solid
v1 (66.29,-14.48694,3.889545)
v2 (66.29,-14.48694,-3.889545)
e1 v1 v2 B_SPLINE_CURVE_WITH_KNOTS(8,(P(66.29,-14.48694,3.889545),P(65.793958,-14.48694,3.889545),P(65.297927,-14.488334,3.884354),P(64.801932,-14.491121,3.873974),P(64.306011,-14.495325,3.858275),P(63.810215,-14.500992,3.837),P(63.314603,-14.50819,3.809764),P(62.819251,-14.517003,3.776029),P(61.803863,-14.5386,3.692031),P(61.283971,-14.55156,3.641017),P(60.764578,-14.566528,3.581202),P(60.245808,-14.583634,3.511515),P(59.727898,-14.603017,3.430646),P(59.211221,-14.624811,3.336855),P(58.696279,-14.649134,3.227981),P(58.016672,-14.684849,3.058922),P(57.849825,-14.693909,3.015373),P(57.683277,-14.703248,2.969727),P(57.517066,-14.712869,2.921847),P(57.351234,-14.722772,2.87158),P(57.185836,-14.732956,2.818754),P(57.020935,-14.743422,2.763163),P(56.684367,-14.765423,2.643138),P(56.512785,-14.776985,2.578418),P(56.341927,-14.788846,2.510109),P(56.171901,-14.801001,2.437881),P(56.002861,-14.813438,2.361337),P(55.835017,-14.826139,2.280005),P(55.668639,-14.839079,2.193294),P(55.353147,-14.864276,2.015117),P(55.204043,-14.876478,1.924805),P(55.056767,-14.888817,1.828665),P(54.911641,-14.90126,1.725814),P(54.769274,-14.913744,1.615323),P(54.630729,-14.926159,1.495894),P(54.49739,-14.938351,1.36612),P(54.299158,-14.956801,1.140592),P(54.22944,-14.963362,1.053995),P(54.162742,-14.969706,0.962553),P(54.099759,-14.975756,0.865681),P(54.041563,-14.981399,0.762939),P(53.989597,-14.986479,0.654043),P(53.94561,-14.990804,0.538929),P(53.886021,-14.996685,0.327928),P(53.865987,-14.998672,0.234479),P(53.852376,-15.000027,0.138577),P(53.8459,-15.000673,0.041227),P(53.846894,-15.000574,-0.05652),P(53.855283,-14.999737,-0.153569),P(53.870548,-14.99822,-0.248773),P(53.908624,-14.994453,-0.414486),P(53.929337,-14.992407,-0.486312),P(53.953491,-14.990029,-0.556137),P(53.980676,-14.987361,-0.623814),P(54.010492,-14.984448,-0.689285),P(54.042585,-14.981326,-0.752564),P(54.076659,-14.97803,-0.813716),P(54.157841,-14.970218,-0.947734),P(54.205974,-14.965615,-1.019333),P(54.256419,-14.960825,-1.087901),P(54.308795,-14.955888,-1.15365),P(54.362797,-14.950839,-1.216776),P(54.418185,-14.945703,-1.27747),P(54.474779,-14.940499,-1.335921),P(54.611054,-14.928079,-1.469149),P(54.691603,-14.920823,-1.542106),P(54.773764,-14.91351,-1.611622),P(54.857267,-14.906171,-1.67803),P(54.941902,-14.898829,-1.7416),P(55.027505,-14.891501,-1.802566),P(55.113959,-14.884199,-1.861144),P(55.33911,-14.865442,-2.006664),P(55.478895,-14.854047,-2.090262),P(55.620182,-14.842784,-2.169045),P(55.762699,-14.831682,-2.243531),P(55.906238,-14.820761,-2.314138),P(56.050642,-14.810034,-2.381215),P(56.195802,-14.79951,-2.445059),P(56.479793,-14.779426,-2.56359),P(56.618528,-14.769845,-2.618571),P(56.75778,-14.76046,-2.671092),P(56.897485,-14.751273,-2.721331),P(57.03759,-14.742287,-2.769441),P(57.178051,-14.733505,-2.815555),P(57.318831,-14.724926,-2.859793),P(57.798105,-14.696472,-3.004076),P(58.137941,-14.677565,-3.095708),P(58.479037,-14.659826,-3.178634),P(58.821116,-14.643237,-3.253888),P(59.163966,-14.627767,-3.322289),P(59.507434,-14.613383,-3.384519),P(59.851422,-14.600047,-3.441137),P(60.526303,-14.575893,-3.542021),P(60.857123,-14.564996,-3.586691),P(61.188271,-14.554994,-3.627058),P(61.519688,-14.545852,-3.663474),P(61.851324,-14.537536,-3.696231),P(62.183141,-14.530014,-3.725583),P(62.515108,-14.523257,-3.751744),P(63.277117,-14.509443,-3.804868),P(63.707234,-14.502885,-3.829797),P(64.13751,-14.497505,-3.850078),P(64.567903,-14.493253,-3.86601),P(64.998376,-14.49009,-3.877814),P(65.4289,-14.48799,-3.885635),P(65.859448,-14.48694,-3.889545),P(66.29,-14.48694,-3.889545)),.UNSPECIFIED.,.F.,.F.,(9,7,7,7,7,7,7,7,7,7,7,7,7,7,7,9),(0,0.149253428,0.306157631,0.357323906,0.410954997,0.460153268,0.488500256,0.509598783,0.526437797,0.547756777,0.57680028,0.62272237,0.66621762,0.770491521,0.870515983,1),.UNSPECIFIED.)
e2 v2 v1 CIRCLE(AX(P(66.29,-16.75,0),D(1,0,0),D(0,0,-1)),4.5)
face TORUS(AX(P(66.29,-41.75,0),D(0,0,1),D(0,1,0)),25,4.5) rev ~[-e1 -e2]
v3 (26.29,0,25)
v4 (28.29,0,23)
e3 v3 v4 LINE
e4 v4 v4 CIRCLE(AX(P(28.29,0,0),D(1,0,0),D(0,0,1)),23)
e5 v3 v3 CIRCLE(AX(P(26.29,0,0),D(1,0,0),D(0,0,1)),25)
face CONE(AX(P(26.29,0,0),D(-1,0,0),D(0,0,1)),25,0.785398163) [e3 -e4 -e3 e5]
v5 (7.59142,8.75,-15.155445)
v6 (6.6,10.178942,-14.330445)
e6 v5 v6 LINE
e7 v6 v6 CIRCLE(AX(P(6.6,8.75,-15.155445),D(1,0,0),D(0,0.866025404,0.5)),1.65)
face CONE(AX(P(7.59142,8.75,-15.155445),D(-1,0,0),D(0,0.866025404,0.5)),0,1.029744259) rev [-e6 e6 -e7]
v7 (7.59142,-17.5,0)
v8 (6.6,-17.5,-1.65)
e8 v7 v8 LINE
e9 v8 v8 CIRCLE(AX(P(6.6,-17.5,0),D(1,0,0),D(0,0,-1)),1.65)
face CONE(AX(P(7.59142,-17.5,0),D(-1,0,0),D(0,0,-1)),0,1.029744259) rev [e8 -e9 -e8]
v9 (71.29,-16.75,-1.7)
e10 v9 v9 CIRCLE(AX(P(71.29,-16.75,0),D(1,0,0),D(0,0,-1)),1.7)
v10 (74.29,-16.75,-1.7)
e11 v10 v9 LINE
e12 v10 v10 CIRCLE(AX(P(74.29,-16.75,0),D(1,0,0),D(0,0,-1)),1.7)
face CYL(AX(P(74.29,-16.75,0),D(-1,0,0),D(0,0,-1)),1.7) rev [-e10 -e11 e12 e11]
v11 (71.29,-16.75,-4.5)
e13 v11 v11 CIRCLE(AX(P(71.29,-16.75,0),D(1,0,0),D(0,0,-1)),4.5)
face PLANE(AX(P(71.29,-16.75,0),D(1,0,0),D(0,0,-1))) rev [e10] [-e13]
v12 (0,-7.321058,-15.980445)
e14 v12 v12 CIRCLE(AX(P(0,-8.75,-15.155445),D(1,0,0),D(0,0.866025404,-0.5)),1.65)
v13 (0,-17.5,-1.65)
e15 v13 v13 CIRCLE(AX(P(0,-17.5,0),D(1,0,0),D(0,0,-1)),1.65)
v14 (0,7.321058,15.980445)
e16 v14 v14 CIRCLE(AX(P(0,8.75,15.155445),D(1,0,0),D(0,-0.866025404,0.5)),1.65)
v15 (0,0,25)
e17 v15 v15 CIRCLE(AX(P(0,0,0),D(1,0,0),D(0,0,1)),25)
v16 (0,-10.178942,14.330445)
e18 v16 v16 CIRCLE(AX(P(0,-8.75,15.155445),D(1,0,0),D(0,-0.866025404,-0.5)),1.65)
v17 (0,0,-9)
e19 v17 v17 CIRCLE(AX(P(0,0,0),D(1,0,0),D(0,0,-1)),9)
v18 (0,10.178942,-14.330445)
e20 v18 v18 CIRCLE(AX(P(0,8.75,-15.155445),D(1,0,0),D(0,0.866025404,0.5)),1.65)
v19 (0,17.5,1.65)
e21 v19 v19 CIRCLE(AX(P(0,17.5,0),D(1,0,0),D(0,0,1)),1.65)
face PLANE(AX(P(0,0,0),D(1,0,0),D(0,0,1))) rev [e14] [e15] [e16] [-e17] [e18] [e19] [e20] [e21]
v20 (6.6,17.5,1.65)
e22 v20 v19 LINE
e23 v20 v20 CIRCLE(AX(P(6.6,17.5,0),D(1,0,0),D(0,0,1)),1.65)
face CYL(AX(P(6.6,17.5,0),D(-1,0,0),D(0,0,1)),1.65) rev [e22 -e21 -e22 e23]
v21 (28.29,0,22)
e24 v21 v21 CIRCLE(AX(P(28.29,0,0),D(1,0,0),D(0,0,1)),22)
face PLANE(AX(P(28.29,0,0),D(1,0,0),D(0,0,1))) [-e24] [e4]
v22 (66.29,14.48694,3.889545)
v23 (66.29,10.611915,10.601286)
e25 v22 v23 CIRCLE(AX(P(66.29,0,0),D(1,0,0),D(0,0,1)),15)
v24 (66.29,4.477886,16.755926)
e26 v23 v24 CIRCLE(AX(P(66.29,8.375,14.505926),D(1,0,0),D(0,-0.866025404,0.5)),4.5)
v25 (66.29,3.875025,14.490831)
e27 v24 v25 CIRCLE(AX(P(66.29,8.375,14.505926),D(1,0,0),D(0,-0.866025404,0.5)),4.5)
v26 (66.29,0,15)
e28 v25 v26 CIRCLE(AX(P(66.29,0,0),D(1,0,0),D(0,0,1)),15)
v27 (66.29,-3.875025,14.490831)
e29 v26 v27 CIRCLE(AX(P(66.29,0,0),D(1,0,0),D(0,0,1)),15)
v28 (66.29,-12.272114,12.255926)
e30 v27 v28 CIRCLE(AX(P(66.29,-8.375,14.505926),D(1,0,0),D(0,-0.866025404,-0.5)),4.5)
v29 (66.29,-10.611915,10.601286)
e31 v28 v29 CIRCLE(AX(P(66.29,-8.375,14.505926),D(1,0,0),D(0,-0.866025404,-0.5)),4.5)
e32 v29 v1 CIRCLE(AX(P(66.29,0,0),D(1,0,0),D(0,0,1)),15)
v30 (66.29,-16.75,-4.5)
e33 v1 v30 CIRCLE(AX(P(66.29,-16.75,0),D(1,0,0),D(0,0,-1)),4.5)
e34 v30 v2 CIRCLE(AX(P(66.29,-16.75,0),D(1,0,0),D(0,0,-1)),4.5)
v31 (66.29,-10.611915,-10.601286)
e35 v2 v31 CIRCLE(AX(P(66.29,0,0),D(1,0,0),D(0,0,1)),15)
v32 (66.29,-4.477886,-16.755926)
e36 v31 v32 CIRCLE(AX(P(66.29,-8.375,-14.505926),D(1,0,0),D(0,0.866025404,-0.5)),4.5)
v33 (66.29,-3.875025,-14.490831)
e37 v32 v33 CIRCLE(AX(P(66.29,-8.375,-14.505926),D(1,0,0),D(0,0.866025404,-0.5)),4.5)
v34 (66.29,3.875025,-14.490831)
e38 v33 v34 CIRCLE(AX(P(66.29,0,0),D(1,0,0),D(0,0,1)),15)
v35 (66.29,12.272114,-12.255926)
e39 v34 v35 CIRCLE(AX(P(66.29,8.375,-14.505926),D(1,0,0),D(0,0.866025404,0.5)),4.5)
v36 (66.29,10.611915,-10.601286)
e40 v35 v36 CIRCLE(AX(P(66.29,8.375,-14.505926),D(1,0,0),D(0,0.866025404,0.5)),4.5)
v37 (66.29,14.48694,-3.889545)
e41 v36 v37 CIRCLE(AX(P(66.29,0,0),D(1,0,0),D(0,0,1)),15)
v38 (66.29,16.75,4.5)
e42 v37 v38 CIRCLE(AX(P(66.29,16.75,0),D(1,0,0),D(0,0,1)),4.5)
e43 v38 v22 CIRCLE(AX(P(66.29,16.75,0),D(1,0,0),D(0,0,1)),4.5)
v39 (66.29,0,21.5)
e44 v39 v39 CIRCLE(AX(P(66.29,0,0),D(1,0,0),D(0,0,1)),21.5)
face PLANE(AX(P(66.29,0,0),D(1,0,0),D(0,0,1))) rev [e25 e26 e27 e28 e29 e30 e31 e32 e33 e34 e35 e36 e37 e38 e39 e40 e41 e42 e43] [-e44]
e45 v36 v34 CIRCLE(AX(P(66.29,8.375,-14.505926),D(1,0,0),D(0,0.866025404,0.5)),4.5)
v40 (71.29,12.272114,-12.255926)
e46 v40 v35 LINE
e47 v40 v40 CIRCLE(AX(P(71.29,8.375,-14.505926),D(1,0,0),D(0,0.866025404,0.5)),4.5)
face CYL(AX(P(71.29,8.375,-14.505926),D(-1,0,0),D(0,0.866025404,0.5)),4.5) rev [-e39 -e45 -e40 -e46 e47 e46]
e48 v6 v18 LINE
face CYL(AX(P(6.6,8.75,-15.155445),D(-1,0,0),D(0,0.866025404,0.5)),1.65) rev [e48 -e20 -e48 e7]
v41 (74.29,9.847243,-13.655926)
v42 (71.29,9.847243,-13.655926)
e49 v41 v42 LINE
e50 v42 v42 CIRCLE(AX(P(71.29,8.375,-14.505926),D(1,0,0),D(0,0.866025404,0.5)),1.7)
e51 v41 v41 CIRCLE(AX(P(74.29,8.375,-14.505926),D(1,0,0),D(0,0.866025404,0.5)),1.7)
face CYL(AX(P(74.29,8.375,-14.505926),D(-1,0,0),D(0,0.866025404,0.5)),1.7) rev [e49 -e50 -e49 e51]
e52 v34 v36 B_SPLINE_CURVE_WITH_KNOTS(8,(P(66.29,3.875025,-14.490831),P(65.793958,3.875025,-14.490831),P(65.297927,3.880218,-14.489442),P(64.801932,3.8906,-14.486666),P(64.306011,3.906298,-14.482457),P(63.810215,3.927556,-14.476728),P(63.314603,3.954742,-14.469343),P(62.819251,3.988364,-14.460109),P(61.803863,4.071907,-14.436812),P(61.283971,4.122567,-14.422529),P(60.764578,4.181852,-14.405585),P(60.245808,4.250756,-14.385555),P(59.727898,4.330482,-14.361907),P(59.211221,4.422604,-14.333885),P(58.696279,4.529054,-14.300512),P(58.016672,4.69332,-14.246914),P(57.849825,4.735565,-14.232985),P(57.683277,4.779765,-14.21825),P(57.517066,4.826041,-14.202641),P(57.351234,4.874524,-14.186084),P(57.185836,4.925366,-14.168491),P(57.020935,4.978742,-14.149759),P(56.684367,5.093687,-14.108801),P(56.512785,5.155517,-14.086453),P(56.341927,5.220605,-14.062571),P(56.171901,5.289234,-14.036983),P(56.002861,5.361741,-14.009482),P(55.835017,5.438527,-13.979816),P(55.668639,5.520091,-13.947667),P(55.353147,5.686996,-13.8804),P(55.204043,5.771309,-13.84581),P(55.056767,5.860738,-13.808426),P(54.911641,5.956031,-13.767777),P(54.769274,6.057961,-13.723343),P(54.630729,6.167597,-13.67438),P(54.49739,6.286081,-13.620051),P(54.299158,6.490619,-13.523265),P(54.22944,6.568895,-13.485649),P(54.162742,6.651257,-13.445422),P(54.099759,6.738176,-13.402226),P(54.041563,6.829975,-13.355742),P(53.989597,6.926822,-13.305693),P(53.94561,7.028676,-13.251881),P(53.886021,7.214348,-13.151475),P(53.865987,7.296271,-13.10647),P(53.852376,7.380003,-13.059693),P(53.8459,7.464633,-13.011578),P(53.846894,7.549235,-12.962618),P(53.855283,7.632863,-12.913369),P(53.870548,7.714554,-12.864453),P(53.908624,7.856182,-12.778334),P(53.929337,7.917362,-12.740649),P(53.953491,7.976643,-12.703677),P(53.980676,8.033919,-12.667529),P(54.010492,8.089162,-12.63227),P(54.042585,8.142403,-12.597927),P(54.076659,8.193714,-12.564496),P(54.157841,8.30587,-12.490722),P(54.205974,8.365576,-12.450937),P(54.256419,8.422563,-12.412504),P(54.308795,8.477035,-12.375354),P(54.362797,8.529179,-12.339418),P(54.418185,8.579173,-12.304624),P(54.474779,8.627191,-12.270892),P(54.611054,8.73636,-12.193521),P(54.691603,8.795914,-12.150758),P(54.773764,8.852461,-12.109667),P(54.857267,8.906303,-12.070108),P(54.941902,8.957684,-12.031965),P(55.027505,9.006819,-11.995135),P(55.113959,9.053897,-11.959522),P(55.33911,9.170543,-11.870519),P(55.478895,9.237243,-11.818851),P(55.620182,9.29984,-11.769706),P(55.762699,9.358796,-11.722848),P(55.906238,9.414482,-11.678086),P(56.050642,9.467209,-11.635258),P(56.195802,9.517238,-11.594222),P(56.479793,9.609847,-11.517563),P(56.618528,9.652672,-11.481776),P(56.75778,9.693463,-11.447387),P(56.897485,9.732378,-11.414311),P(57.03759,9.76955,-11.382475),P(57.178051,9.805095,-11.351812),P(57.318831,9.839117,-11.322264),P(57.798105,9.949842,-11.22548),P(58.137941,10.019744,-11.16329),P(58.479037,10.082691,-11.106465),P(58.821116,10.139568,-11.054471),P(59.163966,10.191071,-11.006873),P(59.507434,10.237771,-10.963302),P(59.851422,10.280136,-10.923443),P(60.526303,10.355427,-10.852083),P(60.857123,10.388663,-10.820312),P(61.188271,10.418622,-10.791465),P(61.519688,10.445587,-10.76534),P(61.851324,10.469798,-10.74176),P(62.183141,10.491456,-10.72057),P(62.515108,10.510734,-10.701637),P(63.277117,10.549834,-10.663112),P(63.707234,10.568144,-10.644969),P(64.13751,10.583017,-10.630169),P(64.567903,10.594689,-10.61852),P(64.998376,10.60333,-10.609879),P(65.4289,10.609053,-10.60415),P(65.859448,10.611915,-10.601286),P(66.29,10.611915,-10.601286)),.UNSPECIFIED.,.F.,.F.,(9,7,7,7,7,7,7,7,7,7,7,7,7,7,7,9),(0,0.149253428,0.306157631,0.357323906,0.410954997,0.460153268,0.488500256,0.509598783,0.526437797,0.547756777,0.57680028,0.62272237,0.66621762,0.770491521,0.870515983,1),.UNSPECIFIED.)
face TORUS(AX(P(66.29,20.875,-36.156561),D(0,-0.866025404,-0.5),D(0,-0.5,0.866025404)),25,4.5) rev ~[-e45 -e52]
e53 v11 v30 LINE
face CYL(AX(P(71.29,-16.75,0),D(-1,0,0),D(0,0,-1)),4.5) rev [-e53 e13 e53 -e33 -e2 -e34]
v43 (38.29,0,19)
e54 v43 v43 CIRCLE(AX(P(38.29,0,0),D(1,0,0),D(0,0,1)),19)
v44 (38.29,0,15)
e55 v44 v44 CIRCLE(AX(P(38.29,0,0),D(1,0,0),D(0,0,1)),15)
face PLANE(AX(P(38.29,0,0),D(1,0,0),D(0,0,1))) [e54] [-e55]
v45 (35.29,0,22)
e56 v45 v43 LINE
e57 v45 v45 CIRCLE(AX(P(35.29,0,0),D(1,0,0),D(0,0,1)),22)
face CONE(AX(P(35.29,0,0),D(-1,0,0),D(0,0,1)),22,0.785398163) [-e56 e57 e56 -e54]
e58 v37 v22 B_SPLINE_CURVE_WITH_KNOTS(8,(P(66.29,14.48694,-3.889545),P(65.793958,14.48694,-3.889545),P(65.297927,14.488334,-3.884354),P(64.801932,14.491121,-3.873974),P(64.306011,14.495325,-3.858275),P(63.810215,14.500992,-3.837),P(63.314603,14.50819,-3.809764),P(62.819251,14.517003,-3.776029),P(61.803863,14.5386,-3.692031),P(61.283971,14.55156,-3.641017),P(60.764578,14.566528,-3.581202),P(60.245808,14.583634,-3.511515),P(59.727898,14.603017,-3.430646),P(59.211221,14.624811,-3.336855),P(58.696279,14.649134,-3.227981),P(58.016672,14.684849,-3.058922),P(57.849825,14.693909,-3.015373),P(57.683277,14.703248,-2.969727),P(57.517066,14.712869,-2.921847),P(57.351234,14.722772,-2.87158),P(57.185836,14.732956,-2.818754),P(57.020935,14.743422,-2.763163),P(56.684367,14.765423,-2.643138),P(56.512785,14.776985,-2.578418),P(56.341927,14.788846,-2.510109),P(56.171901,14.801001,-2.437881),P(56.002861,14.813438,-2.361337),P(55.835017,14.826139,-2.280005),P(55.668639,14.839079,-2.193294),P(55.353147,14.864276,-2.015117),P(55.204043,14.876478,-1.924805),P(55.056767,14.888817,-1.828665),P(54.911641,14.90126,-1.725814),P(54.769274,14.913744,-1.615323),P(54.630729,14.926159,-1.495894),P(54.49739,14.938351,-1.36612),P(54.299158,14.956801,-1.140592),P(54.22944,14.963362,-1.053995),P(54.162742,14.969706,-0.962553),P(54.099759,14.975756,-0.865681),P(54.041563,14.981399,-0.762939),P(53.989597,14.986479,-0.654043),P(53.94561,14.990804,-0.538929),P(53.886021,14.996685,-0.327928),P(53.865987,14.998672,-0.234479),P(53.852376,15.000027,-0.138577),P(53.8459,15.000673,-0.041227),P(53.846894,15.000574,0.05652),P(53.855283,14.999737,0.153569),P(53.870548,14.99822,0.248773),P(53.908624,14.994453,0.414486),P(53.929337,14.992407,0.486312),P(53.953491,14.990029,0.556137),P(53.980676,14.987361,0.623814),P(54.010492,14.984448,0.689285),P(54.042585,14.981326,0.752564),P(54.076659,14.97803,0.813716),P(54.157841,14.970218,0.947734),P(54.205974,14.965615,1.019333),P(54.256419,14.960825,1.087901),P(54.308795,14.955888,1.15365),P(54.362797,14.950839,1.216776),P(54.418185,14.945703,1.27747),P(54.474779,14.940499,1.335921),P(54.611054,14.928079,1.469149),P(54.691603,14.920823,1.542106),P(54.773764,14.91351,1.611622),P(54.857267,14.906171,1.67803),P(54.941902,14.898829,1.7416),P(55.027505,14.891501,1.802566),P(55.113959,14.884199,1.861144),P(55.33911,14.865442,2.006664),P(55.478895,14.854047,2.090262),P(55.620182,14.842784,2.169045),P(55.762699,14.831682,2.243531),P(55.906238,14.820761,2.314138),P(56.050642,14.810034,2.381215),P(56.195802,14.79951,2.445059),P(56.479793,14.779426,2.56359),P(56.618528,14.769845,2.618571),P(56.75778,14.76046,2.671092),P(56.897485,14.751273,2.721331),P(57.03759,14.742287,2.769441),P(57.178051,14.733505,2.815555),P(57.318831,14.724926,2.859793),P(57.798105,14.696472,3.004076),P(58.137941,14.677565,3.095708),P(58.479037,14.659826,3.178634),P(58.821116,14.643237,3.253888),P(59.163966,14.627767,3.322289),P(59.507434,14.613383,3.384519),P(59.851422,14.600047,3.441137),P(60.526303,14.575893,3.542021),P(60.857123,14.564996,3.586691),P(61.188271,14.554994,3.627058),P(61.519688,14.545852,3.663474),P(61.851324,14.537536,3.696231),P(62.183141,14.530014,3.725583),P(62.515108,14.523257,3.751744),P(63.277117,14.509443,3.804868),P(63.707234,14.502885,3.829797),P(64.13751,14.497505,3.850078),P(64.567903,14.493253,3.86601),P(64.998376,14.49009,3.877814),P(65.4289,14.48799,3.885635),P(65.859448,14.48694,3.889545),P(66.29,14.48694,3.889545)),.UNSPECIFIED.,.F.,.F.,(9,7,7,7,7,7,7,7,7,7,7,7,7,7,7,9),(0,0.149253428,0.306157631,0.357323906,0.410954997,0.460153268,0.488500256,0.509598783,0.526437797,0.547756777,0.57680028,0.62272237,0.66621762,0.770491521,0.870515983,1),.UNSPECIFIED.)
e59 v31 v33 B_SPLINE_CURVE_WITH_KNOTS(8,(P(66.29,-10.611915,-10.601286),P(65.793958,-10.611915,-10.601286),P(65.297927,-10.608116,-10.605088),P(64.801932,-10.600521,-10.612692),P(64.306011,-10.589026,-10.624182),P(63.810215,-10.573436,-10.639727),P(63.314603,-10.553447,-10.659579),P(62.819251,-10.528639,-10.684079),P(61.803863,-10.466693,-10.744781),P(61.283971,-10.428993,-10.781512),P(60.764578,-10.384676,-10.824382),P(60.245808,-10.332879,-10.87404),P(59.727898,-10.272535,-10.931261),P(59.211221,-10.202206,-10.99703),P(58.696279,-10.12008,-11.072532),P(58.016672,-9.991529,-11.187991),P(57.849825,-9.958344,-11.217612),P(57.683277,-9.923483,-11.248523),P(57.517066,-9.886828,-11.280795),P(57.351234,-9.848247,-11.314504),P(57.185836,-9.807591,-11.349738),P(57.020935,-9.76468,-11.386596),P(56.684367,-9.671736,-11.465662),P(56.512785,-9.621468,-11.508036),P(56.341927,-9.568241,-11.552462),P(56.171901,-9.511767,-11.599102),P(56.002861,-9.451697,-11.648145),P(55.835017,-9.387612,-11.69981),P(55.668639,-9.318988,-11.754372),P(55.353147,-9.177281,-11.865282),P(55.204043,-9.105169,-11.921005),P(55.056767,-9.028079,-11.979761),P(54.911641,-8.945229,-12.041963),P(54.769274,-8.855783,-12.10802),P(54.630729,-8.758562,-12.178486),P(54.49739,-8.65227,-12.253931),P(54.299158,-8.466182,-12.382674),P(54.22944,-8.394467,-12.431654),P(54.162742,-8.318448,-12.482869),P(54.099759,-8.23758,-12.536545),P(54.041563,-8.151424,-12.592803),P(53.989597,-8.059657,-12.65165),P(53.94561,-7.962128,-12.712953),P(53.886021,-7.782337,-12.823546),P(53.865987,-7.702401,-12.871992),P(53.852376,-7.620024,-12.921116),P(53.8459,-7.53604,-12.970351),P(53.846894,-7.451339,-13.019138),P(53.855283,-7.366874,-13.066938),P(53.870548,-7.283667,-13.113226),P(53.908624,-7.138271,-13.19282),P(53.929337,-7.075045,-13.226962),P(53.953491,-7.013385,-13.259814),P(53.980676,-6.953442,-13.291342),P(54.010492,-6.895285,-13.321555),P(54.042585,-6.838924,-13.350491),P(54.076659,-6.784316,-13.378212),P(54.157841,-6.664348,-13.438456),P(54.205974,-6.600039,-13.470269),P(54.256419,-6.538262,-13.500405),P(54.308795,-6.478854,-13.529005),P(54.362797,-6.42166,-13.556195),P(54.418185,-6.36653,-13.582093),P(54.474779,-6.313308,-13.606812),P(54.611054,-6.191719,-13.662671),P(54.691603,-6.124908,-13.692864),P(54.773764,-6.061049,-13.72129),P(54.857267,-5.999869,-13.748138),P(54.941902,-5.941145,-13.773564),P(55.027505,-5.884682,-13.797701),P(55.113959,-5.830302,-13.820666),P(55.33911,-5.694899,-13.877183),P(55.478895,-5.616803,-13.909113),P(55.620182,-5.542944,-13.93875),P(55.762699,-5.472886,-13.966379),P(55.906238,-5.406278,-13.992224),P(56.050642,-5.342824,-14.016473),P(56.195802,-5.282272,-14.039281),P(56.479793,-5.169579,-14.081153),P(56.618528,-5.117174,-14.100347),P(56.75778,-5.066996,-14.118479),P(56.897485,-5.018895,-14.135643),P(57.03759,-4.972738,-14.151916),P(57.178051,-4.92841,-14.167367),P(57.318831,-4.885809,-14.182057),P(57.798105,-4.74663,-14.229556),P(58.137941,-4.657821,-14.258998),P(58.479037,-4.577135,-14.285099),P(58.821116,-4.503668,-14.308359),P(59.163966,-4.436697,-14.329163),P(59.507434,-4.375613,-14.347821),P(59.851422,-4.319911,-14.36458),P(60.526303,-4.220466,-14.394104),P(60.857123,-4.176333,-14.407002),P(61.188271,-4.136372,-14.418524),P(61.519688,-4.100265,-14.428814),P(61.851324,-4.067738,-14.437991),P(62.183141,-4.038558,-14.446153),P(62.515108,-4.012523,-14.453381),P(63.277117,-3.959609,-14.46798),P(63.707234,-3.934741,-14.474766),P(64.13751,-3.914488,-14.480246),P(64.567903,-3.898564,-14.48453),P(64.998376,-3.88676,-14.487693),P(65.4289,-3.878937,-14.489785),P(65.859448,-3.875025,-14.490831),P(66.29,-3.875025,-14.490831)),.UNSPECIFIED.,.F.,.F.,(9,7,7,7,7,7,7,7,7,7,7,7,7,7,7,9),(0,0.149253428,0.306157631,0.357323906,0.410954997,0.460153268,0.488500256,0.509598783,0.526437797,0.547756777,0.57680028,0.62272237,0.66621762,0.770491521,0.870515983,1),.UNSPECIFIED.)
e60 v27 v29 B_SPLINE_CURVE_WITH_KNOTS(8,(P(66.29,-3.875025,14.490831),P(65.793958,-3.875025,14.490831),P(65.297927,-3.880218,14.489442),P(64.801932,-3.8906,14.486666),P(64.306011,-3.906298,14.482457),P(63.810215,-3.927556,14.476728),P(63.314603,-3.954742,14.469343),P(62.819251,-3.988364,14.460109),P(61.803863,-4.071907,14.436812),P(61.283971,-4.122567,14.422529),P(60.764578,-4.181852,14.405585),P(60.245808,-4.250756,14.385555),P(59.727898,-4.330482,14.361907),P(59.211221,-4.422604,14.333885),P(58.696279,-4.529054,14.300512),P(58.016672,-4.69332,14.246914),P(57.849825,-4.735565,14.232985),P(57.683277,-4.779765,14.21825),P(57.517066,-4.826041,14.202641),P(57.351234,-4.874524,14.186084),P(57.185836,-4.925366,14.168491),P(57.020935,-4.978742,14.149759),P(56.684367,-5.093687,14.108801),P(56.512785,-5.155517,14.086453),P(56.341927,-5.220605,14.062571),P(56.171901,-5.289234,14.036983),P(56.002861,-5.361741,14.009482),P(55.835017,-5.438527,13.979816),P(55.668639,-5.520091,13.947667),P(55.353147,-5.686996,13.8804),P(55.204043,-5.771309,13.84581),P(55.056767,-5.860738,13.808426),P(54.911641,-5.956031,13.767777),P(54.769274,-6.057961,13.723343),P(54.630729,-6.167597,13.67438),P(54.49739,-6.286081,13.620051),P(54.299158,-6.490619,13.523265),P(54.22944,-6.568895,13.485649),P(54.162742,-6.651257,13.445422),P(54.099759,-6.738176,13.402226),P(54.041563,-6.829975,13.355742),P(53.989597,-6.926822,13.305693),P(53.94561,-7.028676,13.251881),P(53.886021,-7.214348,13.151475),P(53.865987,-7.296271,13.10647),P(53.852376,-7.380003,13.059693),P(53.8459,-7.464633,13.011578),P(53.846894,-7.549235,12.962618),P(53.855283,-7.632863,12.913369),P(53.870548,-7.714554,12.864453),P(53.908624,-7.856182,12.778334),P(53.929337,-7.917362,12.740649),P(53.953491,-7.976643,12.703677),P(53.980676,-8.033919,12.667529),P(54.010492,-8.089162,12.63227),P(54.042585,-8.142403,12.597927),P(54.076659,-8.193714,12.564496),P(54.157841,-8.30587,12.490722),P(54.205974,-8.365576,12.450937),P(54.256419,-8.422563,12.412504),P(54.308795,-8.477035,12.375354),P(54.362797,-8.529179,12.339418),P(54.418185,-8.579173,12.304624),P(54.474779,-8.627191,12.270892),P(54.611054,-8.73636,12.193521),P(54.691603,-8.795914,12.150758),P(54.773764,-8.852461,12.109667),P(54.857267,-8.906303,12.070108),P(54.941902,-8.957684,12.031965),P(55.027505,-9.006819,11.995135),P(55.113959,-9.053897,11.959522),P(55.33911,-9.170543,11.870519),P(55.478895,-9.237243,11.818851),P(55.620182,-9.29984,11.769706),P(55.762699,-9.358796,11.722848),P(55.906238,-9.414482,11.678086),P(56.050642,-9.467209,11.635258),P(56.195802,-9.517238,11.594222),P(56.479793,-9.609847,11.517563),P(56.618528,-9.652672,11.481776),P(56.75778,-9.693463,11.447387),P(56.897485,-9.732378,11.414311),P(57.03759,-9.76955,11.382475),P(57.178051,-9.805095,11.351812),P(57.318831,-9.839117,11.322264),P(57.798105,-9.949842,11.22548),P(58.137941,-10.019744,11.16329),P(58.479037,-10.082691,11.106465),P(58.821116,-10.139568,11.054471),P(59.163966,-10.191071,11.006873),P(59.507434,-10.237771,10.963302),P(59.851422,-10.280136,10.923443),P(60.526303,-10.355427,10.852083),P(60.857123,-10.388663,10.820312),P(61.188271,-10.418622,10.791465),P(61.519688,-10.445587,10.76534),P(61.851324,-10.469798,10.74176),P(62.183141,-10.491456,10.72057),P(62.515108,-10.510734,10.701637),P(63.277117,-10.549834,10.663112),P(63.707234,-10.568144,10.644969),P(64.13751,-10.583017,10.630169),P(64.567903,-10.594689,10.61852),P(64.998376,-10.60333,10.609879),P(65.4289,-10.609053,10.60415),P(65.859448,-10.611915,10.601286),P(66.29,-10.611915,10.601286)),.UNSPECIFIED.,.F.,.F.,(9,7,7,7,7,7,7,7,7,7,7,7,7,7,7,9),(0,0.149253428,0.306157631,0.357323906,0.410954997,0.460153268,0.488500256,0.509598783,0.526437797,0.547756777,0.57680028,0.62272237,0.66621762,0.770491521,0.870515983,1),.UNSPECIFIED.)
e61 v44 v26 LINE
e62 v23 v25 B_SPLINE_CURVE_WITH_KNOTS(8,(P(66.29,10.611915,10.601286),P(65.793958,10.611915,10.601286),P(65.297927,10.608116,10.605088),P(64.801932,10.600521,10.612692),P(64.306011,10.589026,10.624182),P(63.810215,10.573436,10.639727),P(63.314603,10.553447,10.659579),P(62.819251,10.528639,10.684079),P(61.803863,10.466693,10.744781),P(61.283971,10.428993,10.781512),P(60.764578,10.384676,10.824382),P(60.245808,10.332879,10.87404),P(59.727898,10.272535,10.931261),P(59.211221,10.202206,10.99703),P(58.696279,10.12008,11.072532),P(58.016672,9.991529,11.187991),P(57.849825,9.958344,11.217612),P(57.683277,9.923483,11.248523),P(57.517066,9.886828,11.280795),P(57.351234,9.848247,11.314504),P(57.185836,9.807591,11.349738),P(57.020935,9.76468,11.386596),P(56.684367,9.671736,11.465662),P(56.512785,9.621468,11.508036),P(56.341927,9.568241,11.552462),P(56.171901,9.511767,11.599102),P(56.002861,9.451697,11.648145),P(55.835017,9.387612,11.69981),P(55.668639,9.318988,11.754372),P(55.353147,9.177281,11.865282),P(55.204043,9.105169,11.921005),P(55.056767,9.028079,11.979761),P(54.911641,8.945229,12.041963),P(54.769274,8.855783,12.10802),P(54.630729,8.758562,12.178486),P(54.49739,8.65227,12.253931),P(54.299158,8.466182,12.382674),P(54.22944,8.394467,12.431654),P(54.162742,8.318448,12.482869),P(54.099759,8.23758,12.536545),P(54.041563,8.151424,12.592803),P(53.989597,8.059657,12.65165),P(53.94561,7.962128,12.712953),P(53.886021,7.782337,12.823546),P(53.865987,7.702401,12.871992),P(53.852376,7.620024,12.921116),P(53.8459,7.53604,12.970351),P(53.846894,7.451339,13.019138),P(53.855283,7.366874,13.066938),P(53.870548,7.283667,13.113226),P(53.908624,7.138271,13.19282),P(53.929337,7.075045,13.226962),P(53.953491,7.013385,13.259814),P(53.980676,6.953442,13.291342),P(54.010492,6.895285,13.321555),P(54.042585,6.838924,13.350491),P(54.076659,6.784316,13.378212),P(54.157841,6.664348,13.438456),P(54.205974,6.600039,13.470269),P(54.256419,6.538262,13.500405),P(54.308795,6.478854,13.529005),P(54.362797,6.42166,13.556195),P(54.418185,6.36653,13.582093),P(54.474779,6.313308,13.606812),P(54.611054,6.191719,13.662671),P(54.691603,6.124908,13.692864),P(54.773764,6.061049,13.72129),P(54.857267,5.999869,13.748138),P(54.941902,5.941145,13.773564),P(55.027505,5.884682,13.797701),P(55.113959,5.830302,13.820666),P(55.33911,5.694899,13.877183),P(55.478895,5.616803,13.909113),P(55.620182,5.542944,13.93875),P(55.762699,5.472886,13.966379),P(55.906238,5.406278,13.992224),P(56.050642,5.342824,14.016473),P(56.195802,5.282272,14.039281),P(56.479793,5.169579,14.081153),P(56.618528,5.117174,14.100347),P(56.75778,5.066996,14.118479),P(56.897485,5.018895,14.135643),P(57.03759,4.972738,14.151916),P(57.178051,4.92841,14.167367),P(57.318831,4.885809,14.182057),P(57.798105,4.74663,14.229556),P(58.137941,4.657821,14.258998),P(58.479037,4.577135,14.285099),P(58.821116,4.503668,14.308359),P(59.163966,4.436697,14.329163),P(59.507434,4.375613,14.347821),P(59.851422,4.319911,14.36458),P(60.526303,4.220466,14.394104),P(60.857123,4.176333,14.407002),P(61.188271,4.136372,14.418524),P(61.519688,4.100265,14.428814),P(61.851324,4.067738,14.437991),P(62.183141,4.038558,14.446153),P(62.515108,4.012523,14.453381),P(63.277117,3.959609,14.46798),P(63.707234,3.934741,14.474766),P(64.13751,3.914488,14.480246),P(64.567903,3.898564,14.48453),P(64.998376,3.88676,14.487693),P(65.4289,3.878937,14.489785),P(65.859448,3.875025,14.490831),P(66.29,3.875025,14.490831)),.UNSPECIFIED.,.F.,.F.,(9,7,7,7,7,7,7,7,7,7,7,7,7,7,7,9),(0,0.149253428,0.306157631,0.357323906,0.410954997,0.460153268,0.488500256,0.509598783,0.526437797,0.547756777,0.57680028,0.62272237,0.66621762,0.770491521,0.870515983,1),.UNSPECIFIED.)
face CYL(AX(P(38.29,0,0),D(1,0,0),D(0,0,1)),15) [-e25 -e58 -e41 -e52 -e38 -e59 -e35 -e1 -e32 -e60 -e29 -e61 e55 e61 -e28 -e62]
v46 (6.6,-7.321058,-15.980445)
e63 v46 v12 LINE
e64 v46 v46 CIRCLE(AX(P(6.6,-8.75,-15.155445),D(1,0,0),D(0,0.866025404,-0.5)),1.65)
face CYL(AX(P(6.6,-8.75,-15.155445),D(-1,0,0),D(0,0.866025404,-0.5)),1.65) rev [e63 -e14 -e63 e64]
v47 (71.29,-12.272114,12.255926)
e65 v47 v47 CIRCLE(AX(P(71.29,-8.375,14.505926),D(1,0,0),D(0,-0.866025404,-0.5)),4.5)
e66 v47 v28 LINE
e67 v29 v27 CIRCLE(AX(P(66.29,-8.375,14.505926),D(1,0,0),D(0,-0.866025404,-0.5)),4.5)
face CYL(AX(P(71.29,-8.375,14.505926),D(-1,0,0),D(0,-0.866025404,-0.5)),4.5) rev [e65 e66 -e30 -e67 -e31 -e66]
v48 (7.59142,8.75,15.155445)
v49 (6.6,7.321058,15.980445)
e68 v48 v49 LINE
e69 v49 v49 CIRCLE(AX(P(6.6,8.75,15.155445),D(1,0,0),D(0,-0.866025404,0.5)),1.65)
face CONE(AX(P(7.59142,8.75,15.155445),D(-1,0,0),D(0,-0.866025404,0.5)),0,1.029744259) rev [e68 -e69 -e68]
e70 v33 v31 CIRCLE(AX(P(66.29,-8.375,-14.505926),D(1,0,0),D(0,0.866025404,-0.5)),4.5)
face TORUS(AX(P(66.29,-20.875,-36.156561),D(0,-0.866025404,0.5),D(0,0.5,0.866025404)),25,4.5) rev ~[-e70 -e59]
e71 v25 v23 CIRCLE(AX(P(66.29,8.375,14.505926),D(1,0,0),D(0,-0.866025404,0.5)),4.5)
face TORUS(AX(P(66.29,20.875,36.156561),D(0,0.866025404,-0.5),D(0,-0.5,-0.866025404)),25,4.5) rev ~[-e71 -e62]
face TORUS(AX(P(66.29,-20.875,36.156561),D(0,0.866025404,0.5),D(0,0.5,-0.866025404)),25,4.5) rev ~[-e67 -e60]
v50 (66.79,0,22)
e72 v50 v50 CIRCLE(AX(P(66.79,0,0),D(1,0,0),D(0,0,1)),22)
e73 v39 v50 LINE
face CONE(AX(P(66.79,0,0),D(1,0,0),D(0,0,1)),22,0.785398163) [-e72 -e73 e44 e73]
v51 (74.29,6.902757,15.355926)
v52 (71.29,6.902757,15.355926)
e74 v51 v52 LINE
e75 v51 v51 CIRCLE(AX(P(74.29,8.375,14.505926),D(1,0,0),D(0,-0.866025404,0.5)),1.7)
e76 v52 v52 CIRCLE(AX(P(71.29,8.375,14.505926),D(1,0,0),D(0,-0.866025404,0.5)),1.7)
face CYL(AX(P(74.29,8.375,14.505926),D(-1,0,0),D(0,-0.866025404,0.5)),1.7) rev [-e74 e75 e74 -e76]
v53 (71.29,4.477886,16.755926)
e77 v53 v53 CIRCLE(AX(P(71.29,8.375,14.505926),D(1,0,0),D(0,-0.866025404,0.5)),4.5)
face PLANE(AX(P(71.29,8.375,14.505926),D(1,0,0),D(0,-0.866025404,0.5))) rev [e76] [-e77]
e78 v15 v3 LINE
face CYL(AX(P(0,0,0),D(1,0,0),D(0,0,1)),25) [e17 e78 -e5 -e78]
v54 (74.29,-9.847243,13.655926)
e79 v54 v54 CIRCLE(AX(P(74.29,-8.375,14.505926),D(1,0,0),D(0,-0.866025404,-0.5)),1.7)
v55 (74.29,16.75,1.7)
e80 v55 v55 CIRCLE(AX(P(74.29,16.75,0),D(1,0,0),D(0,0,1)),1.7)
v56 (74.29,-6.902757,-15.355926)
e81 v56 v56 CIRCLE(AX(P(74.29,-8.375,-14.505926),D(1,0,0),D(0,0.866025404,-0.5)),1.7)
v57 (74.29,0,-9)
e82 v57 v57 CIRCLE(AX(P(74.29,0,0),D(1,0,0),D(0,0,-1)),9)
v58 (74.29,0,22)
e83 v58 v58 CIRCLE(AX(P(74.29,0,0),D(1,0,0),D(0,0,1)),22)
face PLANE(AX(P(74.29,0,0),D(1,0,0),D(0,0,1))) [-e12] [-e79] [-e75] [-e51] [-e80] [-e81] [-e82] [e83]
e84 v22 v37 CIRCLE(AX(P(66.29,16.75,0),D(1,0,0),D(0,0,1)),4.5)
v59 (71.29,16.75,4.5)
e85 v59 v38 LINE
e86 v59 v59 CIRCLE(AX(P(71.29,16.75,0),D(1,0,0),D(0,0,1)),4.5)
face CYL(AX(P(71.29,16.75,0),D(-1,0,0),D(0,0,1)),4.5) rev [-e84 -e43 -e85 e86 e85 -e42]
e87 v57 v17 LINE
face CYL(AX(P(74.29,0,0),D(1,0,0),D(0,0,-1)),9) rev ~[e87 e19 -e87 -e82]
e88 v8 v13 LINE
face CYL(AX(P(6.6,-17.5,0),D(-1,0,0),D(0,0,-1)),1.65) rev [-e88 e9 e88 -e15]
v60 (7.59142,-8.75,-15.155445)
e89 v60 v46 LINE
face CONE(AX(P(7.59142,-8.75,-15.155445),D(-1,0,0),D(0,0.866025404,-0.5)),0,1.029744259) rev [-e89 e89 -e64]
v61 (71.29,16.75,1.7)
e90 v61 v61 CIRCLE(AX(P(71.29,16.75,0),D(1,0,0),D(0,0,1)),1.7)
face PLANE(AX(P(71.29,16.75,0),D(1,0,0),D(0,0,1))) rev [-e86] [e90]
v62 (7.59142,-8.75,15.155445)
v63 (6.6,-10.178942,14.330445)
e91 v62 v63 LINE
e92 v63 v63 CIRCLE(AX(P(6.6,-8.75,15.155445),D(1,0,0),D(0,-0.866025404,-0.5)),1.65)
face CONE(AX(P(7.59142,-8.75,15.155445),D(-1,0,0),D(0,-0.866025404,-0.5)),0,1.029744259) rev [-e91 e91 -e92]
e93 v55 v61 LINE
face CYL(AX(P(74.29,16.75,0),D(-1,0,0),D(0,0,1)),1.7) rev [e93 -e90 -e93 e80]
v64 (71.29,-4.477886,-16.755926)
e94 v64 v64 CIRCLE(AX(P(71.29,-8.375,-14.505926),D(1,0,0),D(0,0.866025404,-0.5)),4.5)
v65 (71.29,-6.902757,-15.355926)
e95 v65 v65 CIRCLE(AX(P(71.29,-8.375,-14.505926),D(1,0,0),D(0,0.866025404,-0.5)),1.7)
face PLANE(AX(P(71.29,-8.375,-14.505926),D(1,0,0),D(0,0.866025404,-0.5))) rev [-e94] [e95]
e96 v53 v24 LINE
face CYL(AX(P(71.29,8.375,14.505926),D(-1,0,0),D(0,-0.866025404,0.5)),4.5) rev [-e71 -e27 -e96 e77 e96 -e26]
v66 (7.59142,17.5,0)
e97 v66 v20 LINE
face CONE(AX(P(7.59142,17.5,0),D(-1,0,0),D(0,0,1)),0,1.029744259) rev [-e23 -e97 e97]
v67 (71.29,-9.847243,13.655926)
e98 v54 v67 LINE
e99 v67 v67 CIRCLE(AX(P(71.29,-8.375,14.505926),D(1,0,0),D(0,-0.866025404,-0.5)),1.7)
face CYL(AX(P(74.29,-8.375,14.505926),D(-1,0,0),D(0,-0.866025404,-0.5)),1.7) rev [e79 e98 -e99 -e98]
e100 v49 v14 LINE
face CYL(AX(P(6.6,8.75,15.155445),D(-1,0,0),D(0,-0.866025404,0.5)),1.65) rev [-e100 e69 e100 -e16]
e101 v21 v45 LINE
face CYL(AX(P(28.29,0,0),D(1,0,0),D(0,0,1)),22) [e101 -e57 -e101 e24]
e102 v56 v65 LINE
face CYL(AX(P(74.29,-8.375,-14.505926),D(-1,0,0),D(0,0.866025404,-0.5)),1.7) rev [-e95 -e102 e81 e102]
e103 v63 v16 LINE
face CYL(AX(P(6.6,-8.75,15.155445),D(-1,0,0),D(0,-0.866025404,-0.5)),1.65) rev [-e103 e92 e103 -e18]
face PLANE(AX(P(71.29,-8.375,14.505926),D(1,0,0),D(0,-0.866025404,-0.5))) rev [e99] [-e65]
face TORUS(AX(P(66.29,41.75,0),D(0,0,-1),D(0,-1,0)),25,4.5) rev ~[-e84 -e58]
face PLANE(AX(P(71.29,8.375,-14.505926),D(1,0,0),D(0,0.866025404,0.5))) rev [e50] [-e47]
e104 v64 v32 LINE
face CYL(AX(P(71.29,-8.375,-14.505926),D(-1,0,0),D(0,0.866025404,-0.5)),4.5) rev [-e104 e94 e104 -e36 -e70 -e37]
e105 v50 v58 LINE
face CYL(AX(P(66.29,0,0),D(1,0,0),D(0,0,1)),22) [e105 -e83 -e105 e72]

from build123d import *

# Parameters (mm, degrees)
CUT_EXTRUDE_1_REACH      = 84.274
SKETCH_2_R               = 9
SKETCH_5_R               = 4.5
PATTERN_CIRCULAR_1_COUNT = 6
PATTERN_CIRCULAR_2_COUNT = 6
CHAMFER_1_SIZE           = 2
CHAMFER_2_SIZE           = 3
CHAMFER_3_SIZE           = 0.5


with BuildPart() as part:
    # 草图1 → 旋转1 (revolve)
    with BuildSketch(Plane.XY):
        Polygon((0, 0), (0, 25), (28.29, 25), (28.29, 22), (38.29, 22), (38.29, 15), (66.29, 15), (66.29, 22), (74.29, 22), (74.29, 0), align=None)
    revolve(axis=Axis((-39.205856293, 0, 0), (1, 0, 0)))

    # 草图2 → 切除-拉伸1 (cut, up to next)
    with BuildSketch(Plane(origin=(74.29, 0, 0), x_dir=(0, 0, -1), z_dir=(1, 0, 0)), mode=Mode.PRIVATE) as cut_extrude_1_sk1:
        Circle(SKETCH_2_R)
    cut_extrude_1_tool1 = extrude(cut_extrude_1_sk1.sketch, amount=-CUT_EXTRUDE_1_REACH, mode=Mode.PRIVATE) & part.part
    add(cut_extrude_1_tool1.solids().sort_by_distance((74.29, 0, 0))[0], mode=Mode.SUBTRACT)

    # 草图3 → 打孔尺寸(%根据六角头螺)栓 全螺纹的类型1 (revolve, cut)
    with BuildSketch(Plane(origin=(66.29, 16.75, 0), x_dir=(0, 0, 1), z_dir=(0, 1, 0))):
        Polygon((0, 0), (0, 8), (1.7, 8), (1.7, 5), (4.5, 5), (4.5, 0), align=None)
    hole_wizard_1 = revolve(axis=Axis((59.94, 16.75, 0), (1, 0, 0)), mode=Mode.SUBTRACT)

    # 切除-扫描2: sweep along a path in 草图6
    with BuildLine(Plane.XY) as sweep_2_path:
        ThreePointArc((66.29, 16.75), (51.18385823, 21.830048172), (42.216910691, 35.005641534))
    # 草图5 → 切除-扫描2 (sweep, cut)
    with BuildSketch(Plane.ZY.offset(-66.29)):
        with Locations((0, 16.75)):
            Circle(SKETCH_5_R)
    sweep_2 = sweep(path=sweep_2_path.line, mode=Mode.SUBTRACT)

    # 阵列(圆周)1: 打孔尺寸(%根据六角头螺)栓 全螺纹的类型1, 切除-扫描2 ×6 about axis
    pattern_circular_1_axis = Axis((0, 0, 0), (1, 0, 0))
    add([hole_wizard_1.rotate(pattern_circular_1_axis, i * 360 / PATTERN_CIRCULAR_1_COUNT) for i in range(1, PATTERN_CIRCULAR_1_COUNT)], mode=Mode.SUBTRACT)
    add([sweep_2.rotate(pattern_circular_1_axis, i * 360 / PATTERN_CIRCULAR_1_COUNT) for i in range(1, PATTERN_CIRCULAR_1_COUNT)], mode=Mode.SUBTRACT)

    # 草图9 → M4 螺纹孔1 (revolve, cut)
    with BuildSketch(Plane.ZX.offset(17.5)):
        Polygon((0, 0), (0, 7.591420021), (1.65, 6.6), (1.65, 0), align=None)
    hole_wizard_m4_1 = revolve(axis=Axis((-6.35, 17.5, 0), (1, 0, 0)), mode=Mode.SUBTRACT)

    # 阵列(圆周)2: M4 螺纹孔1 ×6 about axis
    pattern_circular_2_axis = Axis((0, 0, 0), (1, 0, 0))
    for i in range(1, PATTERN_CIRCULAR_2_COUNT):
        add(hole_wizard_m4_1.rotate(pattern_circular_2_axis, i * 360 / PATTERN_CIRCULAR_2_COUNT), mode=Mode.SUBTRACT)

    # 倒角1
    chamfer_1_edges = [part.edges().sort_by_distance(p)[0] for p in [
        (28.29, -25, 0),
    ]]
    chamfer(chamfer_1_edges, length=CHAMFER_1_SIZE)

    # 倒角2
    chamfer_2_edges = [part.edges().sort_by_distance(p)[0] for p in [
        (38.29, -22, 0),
    ]]
    chamfer(chamfer_2_edges, length=CHAMFER_2_SIZE)

    # 倒角3
    chamfer_3_edges = [part.edges().sort_by_distance(p)[0] for p in [
        (66.29, -22, 0),
    ]]
    chamfer(chamfer_3_edges, length=CHAMFER_3_SIZE)


solid = part.part
